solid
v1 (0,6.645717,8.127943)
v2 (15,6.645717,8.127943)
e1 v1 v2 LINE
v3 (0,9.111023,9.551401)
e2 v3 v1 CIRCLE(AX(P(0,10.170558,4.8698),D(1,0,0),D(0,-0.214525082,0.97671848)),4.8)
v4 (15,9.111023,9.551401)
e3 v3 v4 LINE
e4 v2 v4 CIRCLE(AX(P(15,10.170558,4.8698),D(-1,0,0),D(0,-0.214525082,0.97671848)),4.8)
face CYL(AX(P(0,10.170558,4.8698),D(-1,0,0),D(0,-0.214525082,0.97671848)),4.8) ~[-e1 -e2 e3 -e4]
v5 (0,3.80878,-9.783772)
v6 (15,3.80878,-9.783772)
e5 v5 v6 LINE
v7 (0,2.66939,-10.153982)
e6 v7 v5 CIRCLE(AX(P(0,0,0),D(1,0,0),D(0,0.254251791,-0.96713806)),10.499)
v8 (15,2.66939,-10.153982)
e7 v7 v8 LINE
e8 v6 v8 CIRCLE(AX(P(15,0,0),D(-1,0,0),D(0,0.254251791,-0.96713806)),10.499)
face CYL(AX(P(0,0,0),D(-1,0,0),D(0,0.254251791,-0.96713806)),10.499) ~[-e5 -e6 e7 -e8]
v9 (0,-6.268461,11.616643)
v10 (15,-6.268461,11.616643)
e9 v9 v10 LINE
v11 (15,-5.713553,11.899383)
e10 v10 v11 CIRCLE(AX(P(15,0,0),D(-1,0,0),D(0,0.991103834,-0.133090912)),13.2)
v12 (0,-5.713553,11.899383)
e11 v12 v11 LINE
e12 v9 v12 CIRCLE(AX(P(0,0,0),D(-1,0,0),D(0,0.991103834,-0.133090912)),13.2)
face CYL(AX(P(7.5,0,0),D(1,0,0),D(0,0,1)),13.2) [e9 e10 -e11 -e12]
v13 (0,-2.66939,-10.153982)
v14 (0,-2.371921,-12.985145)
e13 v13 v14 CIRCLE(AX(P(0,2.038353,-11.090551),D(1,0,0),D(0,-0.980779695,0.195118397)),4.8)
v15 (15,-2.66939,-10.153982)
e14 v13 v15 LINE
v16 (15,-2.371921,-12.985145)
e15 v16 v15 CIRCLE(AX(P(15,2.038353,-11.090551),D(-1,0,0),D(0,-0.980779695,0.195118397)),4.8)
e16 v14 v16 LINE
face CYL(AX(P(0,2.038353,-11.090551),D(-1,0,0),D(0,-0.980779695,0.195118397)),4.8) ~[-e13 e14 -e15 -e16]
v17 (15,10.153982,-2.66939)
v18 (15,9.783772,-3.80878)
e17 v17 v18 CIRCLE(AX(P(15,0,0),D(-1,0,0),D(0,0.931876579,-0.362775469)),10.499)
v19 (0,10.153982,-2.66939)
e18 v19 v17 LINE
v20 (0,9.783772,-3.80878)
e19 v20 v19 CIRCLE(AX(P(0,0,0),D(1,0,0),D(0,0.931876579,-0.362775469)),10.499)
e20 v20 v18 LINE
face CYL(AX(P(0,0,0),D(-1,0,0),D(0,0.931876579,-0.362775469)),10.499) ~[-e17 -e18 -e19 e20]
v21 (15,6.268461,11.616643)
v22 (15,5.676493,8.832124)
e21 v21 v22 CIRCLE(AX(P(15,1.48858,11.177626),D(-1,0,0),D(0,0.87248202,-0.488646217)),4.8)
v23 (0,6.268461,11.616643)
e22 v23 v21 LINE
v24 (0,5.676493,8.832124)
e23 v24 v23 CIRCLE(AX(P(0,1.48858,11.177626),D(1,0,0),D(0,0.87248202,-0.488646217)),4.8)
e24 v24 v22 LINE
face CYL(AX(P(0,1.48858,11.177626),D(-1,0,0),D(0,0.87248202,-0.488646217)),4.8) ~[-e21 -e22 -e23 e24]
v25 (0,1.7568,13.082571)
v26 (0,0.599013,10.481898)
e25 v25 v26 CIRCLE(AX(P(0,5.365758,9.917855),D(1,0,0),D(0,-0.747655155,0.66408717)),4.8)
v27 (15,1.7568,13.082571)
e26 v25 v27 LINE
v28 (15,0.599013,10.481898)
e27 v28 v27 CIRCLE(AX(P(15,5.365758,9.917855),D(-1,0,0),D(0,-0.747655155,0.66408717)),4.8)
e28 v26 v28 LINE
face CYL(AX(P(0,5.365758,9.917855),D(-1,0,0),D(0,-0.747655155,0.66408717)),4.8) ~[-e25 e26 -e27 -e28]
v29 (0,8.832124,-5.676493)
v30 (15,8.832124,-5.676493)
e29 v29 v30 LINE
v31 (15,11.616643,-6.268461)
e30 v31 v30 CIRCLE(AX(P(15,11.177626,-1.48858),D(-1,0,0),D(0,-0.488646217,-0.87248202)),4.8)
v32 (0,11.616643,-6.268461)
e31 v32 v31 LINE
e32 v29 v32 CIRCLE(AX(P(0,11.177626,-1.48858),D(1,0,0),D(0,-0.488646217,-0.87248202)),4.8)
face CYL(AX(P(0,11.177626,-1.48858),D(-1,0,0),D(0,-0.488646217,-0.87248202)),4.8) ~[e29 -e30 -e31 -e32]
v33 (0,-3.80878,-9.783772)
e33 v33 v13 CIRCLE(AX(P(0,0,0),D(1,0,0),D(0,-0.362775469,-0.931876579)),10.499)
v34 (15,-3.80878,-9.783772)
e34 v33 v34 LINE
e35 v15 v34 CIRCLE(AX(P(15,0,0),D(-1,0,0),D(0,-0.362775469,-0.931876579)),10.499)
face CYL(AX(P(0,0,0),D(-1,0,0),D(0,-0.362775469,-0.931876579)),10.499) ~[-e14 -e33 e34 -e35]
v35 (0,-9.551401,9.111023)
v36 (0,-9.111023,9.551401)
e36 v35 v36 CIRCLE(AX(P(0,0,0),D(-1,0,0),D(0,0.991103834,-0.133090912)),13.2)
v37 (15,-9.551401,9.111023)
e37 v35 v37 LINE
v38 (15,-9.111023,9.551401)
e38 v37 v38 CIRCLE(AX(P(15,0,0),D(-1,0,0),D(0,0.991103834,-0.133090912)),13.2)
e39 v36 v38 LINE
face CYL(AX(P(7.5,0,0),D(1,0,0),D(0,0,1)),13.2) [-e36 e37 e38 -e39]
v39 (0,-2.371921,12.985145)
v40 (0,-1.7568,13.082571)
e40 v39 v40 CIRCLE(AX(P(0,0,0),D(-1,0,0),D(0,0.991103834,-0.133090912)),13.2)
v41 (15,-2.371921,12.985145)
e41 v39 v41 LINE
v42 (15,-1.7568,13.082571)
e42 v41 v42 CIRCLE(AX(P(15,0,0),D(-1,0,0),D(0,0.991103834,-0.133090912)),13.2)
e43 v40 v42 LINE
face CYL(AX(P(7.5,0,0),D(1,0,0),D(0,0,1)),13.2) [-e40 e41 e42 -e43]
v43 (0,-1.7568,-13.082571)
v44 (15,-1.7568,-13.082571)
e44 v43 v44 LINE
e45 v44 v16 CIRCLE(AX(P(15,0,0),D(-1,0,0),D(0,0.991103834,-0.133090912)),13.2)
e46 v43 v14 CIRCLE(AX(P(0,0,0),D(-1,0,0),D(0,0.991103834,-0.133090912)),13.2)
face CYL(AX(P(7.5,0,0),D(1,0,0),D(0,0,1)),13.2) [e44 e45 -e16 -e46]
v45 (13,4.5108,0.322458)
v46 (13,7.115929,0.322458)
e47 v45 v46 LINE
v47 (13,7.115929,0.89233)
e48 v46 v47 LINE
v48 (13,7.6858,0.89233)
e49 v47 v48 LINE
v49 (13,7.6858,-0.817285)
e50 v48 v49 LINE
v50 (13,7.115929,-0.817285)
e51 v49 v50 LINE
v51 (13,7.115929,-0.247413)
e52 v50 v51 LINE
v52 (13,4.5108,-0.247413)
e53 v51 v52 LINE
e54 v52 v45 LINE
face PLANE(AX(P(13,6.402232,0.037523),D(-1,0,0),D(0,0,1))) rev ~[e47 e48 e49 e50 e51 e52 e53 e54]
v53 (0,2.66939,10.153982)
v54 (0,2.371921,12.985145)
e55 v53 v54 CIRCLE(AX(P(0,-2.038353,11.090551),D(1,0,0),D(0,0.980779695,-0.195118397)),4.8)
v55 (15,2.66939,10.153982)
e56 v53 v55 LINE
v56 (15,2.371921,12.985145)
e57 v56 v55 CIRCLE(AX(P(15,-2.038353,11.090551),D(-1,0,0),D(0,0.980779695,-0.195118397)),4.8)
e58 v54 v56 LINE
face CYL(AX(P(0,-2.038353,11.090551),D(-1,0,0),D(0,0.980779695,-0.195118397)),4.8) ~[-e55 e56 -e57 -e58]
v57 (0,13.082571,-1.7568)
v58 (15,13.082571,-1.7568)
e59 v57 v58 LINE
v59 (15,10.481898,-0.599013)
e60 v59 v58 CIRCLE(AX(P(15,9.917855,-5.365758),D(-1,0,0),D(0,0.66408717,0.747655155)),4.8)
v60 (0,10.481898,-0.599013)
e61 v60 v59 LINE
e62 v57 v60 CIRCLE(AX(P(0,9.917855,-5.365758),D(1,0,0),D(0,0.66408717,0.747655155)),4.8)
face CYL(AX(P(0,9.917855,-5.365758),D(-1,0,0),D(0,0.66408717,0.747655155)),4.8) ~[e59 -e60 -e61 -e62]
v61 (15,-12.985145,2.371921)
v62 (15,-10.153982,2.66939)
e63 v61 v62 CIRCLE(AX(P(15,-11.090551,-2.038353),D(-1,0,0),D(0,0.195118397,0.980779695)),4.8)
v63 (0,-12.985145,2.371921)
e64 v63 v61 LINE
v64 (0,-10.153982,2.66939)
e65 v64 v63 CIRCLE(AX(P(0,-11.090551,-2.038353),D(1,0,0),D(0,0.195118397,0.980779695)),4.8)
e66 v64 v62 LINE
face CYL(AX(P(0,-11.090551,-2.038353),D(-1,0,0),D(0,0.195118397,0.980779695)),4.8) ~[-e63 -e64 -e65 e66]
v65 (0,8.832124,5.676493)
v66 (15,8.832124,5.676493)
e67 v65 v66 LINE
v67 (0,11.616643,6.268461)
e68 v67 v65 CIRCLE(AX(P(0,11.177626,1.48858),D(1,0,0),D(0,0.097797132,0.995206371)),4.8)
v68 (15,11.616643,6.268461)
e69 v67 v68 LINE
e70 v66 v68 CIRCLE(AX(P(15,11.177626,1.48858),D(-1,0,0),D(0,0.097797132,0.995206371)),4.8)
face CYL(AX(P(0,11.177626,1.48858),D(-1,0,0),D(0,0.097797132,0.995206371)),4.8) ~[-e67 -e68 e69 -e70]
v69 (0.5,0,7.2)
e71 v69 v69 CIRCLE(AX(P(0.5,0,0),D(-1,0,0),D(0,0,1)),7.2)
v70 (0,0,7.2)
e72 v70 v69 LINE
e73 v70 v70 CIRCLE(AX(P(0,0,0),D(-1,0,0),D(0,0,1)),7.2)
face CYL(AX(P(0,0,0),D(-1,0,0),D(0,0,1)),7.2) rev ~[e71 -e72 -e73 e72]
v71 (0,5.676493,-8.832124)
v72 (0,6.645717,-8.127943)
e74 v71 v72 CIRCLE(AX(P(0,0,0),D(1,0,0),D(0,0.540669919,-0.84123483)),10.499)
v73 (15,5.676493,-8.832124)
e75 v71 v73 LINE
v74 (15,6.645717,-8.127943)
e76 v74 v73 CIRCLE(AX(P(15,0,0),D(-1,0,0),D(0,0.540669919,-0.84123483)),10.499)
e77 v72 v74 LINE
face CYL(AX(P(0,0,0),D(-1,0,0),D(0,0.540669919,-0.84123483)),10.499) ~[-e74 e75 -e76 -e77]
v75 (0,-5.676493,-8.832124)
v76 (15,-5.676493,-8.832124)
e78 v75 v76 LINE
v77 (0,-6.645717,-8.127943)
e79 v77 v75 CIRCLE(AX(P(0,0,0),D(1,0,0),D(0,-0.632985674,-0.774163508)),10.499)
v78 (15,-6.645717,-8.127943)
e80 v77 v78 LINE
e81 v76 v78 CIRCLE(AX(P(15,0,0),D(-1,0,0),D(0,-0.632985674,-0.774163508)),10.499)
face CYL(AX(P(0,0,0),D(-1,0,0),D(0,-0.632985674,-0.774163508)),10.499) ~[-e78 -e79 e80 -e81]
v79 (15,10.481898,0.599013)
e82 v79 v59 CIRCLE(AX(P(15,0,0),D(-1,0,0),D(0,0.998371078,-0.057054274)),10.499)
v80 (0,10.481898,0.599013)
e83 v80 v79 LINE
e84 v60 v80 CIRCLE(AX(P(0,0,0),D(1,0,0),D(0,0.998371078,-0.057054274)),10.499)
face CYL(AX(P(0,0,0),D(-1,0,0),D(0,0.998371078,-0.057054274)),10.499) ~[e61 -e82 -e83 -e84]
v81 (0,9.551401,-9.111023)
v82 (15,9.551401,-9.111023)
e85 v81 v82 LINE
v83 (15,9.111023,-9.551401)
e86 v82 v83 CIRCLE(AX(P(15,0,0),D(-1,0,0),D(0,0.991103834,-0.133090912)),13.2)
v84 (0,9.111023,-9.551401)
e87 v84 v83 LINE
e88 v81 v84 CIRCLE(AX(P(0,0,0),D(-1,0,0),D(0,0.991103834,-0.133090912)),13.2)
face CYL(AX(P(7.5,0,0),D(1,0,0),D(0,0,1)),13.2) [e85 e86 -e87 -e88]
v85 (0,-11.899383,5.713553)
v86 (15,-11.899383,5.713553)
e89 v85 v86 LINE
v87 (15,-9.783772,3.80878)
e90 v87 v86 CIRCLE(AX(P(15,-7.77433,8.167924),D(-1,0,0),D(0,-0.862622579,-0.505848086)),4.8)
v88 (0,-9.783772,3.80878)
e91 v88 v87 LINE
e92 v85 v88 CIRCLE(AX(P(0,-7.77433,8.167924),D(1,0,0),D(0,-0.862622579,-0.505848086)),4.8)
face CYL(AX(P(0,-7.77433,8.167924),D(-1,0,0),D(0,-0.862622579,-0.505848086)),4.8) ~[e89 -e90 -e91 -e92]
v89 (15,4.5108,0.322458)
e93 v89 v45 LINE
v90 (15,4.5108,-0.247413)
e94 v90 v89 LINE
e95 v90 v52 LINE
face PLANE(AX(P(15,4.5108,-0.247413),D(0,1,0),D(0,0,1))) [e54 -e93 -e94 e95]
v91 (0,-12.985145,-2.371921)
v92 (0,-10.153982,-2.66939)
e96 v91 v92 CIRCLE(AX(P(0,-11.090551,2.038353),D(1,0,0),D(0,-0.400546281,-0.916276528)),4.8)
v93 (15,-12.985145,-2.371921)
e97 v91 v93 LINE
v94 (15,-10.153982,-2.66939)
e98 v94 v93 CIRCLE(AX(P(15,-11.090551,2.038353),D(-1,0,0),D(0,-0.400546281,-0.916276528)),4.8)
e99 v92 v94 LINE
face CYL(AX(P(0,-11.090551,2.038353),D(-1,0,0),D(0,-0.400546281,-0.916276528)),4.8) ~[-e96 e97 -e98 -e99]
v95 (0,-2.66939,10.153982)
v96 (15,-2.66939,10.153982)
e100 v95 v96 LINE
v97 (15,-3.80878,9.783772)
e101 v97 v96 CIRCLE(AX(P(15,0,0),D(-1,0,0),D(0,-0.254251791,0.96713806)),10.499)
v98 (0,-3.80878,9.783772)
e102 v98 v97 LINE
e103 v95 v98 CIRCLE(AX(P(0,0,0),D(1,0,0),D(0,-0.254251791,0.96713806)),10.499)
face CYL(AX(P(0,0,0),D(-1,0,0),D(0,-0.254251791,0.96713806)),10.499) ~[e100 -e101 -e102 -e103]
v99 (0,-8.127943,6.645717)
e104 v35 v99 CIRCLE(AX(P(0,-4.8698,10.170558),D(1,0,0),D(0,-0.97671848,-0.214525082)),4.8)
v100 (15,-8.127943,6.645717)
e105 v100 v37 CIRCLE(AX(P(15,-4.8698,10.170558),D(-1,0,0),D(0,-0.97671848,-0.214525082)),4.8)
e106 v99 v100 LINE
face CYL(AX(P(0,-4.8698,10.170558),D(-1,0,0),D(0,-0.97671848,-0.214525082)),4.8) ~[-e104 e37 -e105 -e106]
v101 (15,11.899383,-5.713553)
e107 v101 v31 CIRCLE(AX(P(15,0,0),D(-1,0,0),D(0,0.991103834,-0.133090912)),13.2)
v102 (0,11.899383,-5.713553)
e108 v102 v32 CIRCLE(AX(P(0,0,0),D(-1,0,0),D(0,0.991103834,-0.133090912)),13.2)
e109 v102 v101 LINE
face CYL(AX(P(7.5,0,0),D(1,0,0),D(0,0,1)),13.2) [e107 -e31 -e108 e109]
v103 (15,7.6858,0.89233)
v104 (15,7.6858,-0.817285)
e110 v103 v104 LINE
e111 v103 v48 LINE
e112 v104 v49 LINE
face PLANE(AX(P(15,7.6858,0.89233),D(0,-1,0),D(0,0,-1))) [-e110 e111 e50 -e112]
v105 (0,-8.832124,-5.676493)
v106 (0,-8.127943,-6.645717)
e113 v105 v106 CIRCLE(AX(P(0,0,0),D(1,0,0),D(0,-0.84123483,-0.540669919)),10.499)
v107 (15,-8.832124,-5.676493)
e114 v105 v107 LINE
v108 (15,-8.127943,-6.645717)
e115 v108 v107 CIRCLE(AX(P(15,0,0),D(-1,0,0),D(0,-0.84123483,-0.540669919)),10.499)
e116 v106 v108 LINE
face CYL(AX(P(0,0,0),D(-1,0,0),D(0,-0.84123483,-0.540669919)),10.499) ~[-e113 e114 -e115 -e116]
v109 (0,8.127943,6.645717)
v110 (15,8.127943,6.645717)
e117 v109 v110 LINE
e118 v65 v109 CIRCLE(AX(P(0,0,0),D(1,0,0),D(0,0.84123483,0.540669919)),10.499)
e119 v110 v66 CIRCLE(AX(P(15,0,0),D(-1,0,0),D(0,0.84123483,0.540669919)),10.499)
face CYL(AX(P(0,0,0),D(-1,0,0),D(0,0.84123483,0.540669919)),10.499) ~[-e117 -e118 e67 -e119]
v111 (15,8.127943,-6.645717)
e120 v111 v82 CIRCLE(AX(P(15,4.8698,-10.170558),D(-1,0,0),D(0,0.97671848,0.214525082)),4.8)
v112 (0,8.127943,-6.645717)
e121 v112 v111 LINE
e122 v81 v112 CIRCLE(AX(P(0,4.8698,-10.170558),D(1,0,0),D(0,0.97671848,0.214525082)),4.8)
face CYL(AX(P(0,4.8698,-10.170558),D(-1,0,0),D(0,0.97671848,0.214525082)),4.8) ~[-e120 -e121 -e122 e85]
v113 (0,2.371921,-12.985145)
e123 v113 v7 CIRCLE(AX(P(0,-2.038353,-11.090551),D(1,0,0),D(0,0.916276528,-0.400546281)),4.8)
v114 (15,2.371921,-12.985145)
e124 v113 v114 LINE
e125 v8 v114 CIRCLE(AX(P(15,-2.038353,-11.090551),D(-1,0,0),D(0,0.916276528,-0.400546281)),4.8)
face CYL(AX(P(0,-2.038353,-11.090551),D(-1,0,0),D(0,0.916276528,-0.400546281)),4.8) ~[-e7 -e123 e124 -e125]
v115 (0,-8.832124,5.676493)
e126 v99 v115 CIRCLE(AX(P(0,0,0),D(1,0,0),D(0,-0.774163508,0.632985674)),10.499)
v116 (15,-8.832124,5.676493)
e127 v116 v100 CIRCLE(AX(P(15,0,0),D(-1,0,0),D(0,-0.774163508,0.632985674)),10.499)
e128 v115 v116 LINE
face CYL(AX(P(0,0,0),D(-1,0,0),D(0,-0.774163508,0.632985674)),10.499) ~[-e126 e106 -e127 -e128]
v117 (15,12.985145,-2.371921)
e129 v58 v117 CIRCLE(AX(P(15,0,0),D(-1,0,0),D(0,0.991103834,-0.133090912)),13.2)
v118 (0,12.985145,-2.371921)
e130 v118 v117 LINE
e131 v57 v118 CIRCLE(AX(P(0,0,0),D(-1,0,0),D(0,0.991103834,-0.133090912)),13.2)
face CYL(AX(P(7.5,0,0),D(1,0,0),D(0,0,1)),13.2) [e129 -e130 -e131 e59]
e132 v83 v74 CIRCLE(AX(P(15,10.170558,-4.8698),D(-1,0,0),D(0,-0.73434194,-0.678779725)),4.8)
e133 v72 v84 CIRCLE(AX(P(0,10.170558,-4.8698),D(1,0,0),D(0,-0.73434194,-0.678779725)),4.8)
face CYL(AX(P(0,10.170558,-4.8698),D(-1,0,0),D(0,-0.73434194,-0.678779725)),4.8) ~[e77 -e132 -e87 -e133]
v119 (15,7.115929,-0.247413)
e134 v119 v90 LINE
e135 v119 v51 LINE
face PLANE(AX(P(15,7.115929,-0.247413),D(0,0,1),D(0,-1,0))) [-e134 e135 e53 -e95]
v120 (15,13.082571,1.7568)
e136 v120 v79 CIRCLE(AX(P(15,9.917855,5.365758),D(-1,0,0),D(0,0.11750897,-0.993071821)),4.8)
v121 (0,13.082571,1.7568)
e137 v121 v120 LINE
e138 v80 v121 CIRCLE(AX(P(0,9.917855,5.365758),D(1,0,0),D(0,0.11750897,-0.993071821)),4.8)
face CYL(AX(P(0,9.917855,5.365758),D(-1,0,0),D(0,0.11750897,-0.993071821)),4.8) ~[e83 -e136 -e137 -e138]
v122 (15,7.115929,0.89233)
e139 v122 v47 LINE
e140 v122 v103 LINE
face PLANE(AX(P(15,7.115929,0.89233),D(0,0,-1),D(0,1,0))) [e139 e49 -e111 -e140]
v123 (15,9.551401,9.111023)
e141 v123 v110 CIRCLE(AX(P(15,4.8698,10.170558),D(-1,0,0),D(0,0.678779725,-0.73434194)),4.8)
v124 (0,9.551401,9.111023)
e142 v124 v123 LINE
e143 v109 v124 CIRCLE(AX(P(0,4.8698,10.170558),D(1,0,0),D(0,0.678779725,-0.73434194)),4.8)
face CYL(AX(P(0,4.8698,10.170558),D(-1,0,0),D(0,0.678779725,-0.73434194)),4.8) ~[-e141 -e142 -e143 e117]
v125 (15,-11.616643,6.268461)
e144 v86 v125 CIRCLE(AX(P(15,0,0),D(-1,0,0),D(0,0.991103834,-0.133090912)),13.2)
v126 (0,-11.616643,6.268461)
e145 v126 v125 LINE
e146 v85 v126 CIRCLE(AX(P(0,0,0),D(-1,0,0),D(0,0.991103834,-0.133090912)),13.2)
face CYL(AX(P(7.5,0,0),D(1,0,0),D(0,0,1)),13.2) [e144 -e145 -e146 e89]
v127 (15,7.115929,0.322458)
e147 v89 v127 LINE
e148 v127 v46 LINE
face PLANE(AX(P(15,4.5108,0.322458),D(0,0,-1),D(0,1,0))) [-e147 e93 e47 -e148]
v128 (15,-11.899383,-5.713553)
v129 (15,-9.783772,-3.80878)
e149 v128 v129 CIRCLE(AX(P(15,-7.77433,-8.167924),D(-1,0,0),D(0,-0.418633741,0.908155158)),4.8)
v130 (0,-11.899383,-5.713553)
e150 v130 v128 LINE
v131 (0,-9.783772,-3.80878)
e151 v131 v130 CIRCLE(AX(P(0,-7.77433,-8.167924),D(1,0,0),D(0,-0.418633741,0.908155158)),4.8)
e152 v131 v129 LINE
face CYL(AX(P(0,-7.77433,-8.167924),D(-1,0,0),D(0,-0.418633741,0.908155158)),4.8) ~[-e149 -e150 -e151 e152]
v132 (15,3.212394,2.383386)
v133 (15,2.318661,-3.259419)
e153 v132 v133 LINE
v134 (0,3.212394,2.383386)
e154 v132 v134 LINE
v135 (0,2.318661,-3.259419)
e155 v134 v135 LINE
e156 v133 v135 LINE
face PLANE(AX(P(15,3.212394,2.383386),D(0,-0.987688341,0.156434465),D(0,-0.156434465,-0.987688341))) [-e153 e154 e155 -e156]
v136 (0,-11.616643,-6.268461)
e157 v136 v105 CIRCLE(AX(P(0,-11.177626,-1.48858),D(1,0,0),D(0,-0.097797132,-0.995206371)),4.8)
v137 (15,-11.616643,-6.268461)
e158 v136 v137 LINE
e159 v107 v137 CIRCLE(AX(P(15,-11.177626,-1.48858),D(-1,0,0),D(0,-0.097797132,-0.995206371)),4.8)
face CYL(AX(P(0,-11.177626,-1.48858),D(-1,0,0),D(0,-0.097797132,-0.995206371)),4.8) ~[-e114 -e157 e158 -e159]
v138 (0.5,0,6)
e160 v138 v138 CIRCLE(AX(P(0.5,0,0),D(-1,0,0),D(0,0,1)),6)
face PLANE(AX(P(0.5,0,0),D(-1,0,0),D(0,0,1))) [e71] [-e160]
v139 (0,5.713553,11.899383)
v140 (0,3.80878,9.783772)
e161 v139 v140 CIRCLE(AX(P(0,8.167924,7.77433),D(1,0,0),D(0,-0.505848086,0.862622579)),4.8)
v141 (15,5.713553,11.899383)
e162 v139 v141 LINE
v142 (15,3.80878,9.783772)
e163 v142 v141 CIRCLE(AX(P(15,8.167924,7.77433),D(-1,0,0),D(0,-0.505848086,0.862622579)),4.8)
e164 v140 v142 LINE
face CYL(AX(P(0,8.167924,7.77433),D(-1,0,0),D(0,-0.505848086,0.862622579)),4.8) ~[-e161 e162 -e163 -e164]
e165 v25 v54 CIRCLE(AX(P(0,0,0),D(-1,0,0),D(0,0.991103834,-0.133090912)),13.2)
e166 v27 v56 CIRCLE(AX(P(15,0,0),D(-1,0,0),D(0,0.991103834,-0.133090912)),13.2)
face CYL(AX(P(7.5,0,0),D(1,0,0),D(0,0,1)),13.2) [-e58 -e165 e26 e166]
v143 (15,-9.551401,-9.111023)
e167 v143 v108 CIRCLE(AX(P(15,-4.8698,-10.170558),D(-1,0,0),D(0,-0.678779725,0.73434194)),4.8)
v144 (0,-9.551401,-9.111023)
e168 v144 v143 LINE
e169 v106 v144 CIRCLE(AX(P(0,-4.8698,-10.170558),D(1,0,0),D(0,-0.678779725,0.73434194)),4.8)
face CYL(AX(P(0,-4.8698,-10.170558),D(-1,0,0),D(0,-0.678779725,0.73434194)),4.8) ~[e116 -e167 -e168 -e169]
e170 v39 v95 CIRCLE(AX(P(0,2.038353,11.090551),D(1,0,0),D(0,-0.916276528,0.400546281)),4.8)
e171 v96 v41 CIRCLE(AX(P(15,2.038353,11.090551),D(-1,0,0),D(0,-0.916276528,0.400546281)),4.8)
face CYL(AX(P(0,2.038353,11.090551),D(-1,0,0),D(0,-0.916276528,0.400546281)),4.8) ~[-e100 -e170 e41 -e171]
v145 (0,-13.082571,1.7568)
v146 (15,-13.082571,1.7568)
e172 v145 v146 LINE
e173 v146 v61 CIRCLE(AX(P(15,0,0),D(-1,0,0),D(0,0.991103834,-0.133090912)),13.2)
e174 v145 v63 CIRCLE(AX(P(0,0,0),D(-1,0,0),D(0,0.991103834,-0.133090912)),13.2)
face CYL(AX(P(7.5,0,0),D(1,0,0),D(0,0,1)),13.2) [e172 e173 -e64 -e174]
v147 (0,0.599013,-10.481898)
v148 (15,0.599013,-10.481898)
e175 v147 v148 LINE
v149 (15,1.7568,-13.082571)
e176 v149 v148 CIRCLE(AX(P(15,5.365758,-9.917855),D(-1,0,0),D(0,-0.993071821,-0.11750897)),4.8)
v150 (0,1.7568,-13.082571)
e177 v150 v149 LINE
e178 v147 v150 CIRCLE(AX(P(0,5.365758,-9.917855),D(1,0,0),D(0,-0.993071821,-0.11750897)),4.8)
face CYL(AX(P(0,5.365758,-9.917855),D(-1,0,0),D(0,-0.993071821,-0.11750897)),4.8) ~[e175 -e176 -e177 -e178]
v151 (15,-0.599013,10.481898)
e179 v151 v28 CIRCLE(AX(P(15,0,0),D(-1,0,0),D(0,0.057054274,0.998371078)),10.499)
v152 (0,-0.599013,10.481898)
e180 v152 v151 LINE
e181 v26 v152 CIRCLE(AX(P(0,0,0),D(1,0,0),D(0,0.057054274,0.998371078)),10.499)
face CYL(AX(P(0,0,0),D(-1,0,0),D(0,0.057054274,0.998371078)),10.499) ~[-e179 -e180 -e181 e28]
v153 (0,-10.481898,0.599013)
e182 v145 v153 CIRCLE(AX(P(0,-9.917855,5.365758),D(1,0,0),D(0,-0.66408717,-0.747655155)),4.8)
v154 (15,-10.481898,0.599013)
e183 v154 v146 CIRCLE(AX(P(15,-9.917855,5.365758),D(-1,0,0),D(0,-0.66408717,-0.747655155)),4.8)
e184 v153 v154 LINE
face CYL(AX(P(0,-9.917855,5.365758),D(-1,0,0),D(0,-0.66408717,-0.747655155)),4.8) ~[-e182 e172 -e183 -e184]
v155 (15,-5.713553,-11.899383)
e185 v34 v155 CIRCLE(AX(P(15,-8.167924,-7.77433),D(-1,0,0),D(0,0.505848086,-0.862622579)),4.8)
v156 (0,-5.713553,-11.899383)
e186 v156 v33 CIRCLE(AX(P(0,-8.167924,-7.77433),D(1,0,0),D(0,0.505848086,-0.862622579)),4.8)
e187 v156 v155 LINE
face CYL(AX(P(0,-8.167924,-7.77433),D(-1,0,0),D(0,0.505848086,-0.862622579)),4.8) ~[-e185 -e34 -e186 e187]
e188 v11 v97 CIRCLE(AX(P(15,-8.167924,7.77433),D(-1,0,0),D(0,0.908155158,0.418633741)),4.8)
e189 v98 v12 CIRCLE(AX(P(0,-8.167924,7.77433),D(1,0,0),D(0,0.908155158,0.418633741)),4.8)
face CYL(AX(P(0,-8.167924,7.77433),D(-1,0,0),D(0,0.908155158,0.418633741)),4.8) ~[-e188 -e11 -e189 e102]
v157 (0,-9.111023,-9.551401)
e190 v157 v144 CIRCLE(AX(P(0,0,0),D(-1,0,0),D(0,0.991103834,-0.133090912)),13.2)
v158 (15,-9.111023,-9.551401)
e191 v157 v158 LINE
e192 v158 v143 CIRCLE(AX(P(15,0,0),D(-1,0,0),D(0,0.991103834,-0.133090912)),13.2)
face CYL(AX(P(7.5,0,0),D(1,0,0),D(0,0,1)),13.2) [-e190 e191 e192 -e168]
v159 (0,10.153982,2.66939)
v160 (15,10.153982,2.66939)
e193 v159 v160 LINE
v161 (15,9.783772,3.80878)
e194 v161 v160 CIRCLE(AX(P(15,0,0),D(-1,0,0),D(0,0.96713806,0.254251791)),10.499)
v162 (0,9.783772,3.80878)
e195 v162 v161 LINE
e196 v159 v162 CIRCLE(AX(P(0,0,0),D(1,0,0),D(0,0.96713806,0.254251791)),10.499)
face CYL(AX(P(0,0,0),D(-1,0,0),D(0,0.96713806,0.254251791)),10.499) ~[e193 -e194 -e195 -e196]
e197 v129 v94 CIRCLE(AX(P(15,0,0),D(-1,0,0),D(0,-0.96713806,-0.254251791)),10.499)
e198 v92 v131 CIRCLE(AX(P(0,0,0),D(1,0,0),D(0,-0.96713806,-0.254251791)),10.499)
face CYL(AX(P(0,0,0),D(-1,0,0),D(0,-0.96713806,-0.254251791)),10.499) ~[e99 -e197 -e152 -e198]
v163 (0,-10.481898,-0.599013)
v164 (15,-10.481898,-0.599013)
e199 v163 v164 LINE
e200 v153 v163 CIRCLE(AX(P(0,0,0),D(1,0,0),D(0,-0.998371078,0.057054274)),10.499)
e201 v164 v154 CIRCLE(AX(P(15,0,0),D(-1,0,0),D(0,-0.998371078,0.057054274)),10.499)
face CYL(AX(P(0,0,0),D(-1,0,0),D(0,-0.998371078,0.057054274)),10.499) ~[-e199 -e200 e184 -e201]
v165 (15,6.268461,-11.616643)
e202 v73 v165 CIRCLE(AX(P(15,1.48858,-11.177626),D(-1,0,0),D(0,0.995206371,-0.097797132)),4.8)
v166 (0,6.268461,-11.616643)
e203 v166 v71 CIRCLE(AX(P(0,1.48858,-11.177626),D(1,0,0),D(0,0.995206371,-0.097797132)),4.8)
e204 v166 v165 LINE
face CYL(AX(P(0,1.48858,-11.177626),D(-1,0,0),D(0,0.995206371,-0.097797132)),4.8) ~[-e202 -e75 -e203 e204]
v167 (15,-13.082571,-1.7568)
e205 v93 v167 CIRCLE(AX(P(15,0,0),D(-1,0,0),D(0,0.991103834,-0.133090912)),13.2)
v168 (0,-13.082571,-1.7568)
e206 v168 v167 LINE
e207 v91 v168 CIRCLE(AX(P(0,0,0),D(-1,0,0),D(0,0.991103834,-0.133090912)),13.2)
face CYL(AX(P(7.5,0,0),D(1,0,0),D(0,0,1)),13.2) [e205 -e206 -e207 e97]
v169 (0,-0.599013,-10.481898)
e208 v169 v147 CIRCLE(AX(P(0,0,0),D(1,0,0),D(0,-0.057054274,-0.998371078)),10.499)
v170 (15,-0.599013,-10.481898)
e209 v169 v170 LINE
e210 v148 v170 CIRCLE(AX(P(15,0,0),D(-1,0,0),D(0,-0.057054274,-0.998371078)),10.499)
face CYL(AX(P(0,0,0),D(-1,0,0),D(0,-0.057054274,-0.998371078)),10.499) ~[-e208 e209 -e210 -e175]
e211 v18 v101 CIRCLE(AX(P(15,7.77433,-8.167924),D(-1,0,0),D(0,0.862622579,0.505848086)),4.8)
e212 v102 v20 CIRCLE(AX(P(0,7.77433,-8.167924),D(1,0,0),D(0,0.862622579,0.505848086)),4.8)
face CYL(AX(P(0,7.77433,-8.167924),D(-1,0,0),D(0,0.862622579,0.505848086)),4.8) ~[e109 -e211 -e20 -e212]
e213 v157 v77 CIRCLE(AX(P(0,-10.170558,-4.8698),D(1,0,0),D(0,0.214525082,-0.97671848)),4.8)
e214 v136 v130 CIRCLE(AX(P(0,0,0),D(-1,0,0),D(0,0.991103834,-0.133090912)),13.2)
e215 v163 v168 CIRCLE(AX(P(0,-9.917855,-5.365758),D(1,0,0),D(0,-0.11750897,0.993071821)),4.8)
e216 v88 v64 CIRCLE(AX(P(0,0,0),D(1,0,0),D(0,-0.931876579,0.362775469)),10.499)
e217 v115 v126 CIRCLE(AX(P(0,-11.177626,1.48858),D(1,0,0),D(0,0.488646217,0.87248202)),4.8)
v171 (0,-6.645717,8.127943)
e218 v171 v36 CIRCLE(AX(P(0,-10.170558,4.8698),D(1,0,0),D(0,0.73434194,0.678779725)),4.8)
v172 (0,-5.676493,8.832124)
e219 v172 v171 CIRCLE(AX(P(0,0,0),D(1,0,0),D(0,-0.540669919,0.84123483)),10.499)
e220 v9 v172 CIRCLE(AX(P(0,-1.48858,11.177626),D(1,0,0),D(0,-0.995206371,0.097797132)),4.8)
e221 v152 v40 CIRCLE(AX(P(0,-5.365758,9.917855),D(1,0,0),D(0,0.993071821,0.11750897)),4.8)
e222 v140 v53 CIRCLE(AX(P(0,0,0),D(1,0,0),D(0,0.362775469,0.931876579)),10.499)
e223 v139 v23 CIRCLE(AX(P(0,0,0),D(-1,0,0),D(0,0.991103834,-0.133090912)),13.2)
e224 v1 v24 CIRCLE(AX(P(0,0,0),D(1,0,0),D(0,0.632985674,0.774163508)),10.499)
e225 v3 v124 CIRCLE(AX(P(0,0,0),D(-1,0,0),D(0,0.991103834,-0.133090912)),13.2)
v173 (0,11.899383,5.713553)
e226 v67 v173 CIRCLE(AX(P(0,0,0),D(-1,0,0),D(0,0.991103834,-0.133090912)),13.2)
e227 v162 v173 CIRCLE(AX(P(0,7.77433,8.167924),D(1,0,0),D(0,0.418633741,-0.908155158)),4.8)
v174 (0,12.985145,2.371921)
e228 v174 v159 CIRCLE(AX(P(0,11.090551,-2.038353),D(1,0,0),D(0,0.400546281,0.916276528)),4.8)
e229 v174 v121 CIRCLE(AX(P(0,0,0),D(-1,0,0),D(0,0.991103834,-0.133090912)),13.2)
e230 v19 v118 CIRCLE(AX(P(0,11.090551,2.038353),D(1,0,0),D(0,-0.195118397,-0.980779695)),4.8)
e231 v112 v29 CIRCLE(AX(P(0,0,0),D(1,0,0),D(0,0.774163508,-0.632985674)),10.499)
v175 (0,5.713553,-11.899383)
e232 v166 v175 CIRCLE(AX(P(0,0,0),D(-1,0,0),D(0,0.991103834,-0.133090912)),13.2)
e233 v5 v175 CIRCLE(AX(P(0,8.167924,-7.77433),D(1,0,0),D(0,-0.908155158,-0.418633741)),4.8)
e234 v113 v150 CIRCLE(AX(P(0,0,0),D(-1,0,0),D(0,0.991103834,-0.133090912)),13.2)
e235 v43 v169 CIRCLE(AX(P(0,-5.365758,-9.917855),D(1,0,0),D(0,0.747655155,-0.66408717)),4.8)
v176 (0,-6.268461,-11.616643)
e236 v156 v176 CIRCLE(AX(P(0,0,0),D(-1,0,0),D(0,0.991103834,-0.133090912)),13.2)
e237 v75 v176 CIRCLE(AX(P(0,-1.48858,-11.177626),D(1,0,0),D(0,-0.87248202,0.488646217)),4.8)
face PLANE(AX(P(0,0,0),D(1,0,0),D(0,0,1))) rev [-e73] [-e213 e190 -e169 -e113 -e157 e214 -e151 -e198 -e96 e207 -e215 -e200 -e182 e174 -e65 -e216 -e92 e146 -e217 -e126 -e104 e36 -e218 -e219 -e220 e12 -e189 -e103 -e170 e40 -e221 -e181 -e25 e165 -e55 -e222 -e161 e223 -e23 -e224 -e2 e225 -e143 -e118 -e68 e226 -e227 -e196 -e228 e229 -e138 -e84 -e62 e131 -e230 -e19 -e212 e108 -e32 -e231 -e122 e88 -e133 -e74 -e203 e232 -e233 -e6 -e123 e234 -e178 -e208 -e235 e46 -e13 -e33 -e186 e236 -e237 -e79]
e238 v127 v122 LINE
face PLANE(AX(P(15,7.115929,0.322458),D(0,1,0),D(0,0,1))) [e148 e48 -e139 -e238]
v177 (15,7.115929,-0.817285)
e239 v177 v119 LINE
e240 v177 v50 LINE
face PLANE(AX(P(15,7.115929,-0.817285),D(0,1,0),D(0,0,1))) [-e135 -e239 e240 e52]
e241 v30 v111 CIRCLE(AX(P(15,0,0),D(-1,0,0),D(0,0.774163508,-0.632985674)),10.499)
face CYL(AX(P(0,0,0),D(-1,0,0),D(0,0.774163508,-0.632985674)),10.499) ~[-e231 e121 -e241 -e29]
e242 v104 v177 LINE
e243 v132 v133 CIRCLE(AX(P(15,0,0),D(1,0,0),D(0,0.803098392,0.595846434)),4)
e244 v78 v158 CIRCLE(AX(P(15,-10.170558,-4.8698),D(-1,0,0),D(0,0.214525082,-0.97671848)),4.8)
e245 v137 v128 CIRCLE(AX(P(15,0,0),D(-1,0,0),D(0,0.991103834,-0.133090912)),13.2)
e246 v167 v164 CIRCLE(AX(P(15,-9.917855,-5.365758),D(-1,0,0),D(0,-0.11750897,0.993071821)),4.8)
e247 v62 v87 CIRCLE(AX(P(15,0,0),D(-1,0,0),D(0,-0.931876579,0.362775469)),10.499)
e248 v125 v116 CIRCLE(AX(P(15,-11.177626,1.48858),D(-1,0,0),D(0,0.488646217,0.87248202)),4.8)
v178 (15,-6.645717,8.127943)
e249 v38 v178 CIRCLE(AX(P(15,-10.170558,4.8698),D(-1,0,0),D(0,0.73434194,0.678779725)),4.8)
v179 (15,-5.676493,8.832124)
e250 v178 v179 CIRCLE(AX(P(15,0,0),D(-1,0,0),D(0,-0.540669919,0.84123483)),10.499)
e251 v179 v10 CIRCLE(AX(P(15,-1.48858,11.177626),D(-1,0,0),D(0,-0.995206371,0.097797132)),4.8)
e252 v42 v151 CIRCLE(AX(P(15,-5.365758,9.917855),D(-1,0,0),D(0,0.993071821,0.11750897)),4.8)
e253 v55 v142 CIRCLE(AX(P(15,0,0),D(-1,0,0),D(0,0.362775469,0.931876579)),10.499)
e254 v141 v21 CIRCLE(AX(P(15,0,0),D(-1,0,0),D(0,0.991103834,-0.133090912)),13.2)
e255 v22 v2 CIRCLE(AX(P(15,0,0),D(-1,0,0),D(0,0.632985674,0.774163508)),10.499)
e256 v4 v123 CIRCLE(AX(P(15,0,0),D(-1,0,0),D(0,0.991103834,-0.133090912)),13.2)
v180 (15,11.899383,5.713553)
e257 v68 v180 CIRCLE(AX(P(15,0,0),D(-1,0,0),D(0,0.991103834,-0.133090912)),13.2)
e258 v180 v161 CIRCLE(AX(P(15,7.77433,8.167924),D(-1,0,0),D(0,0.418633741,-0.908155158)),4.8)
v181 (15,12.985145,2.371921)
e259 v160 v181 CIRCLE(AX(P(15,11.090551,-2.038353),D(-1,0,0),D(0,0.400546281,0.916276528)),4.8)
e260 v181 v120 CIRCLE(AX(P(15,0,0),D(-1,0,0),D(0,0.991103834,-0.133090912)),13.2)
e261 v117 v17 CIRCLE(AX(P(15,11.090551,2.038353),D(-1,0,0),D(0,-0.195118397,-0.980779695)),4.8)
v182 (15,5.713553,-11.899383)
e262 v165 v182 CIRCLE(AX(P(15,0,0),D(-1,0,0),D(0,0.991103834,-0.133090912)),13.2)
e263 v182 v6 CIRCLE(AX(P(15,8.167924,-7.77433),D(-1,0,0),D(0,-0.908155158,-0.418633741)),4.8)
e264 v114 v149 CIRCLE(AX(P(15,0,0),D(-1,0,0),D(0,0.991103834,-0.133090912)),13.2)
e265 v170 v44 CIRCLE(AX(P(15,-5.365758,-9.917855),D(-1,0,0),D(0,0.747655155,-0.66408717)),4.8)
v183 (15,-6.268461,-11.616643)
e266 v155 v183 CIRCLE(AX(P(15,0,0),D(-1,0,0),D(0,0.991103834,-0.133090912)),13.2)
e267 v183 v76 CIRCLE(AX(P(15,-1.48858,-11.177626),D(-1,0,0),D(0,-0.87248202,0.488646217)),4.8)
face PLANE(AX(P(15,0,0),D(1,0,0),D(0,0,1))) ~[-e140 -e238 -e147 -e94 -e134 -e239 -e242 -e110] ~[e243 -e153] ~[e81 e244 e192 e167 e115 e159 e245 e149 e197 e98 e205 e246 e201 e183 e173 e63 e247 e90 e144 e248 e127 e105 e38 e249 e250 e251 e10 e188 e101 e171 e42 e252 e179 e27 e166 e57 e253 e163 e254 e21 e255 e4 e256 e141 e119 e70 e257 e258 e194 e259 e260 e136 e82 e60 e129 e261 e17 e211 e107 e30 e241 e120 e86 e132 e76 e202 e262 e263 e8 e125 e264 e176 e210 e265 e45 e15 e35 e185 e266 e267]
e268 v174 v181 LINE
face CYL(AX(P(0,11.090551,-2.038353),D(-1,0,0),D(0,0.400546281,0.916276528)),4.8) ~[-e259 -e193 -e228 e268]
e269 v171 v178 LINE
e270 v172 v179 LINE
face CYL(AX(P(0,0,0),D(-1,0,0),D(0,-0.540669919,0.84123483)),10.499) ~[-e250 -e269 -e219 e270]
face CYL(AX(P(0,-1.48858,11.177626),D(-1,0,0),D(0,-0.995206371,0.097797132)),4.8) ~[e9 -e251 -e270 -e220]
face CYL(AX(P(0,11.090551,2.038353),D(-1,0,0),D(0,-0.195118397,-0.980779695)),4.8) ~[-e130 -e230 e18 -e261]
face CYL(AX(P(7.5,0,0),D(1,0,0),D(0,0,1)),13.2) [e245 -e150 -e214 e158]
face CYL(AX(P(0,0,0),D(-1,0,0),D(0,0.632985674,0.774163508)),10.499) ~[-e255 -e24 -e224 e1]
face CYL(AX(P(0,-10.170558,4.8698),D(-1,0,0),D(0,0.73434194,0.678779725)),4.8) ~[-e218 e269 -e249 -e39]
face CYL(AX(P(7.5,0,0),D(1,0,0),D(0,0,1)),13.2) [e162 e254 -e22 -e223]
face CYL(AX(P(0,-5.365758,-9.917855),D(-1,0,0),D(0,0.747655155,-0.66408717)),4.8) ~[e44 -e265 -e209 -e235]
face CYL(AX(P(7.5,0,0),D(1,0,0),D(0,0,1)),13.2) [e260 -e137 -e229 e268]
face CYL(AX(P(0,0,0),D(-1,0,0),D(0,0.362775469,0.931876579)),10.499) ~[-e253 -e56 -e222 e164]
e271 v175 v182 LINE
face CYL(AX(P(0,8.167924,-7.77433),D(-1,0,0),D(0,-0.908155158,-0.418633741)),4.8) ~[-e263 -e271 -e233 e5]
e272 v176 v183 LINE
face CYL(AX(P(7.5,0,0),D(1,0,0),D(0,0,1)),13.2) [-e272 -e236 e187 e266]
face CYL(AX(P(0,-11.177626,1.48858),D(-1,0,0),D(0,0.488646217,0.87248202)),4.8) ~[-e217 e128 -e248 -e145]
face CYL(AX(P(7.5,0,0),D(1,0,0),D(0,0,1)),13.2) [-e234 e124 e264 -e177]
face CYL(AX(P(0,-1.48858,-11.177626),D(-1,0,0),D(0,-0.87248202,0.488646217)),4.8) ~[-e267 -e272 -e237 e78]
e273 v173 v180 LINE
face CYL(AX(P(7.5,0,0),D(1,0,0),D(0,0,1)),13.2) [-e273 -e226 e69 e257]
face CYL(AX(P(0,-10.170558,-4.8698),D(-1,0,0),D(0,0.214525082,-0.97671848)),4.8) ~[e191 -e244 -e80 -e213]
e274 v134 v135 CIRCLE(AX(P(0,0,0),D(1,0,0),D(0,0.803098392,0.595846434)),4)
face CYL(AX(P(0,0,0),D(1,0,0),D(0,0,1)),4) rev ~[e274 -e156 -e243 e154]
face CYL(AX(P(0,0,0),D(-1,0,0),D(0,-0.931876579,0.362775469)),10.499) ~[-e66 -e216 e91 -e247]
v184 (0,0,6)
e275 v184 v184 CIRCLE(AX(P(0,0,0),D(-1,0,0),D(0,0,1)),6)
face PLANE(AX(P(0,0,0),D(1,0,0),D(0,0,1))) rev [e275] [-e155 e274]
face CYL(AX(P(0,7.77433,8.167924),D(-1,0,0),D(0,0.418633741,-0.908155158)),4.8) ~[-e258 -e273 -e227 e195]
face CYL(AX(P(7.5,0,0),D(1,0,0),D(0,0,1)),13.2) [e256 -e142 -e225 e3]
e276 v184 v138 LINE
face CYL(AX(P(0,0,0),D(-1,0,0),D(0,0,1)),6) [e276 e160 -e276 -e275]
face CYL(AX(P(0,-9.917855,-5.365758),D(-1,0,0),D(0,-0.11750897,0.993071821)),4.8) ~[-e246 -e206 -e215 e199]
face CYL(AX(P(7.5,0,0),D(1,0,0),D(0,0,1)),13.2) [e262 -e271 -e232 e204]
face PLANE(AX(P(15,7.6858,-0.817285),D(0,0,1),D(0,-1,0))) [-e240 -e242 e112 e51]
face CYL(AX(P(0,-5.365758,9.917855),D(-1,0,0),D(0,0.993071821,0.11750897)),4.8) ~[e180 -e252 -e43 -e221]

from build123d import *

# Parameters (mm, degrees)
BASPROSKE_W         = 15
BASPROSKE_H         = 13.2
TOOTHCUT_DEPTH      = 24.947442452
TEETHCUTS_COUNT     = 20
TEETHCUTS_ANGLE     = 342
BORSKE_R            = 4
BORE_DEPTH          = 50.0000508
BOSS_EXTRUDE1_START = -15
BOSS_EXTRUDE1_DEPTH = 15
SKETCH2_R           = 7.2
SKETCH2_R_2         = 6
CUT_EXTRUDE1_DEPTH  = 0.5
CUT_EXTRUDE2_DEPTH  = 2


with BuildPart() as part:
    # BasProSke → Base-Revolve (revolve)
    with BuildSketch(Plane(origin=(0, 0, 0), x_dir=(1, 0, 0), z_dir=(0, 1, 0)), mode=Mode.PRIVATE) as base_revolve_sk:
        with Locations((7.5, 6.6)):
            Rectangle(BASPROSKE_W, BASPROSKE_H)
    revolve(base_revolve_sk.sketch.rotate(Axis((-10, 0, 0), (1, 0, 0)), 180), axis=Axis((-10, 0, 0), (1, 0, 0)))

    # TooCutSke → ToothCut (cut, through all)
    with BuildSketch(Plane(origin=(0, 0, 0), x_dir=(0, 0, -1), z_dir=(1, 0, 0))):
        with BuildLine():
            ThreePointArc((0.599012827, 10.48189795), (0, 10.499), (-0.599012827, 10.48189795))
            ThreePointArc((-0.599012827, 10.48189795), (-0.986906343, 11.883983562), (-1.777012823, 13.105473306))
            ThreePointArc((-1.777012823, 13.105473306), (0, 13.2254), (1.777012823, 13.105473306))
            ThreePointArc((1.777012823, 13.105473306), (0.986906343, 11.883983562), (0.599012827, 10.48189795))
        make_face()
    toothcut = extrude(amount=TOOTHCUT_DEPTH, mode=Mode.SUBTRACT)

    # TeethCuts: ToothCut ×20 about axis
    teethcuts_axis = Axis((-10, 0, 0), (1, 0, 0))
    for i in range(1, TEETHCUTS_COUNT):
        add(toothcut.rotate(teethcuts_axis, i * TEETHCUTS_ANGLE / (TEETHCUTS_COUNT - 1)), mode=Mode.SUBTRACT)

    # BorSke → Bore (cut, symmetric)
    with BuildSketch(Plane(origin=(0, 0, 0), x_dir=(0, 0, -1), z_dir=(1, 0, 0))):
        with Locations(Location((0, 0, 0), (0, 0, 180))):
            Circle(BORSKE_R)
    extrude(amount=BORE_DEPTH, both=True, mode=Mode.SUBTRACT)

    # Sketch1 → Boss-Extrude1 (add)
    with BuildSketch(Plane.ZY.offset(BOSS_EXTRUDE1_START)):
        with BuildLine():
            Line((2.383385736, 3.212393568), (-3.25941874, 2.318661139))
            ThreePointArc((-3.25941874, 2.318661139), (-0.62573786, 3.950753362), (2.383385736, 3.212393568))
        make_face()
    extrude(amount=BOSS_EXTRUDE1_DEPTH)

    # Sketch2 → Cut-Extrude1 (cut)
    with BuildSketch(Plane.ZY):
        Circle(SKETCH2_R)
        Circle(SKETCH2_R_2, mode=Mode.SUBTRACT)
    extrude(amount=-CUT_EXTRUDE1_DEPTH, mode=Mode.SUBTRACT)

    # Sketch3 → Cut-Extrude2 (cut)
    with BuildSketch(Plane(origin=(15, 0, 0), x_dir=(0, 0, -1), z_dir=(1, 0, 0))):
        Polygon((-0.892330227, 7.685800395), (0.817285157, 7.685800395), (0.817285157, 7.1159286), (0.247413362, 7.1159286), (0.247413362, 4.510800395), (-0.322458432, 4.510800395), (-0.322458432, 7.1159286), (-0.892330227, 7.1159286), align=None)
    extrude(amount=-CUT_EXTRUDE2_DEPTH, mode=Mode.SUBTRACT)


solid = part.part
